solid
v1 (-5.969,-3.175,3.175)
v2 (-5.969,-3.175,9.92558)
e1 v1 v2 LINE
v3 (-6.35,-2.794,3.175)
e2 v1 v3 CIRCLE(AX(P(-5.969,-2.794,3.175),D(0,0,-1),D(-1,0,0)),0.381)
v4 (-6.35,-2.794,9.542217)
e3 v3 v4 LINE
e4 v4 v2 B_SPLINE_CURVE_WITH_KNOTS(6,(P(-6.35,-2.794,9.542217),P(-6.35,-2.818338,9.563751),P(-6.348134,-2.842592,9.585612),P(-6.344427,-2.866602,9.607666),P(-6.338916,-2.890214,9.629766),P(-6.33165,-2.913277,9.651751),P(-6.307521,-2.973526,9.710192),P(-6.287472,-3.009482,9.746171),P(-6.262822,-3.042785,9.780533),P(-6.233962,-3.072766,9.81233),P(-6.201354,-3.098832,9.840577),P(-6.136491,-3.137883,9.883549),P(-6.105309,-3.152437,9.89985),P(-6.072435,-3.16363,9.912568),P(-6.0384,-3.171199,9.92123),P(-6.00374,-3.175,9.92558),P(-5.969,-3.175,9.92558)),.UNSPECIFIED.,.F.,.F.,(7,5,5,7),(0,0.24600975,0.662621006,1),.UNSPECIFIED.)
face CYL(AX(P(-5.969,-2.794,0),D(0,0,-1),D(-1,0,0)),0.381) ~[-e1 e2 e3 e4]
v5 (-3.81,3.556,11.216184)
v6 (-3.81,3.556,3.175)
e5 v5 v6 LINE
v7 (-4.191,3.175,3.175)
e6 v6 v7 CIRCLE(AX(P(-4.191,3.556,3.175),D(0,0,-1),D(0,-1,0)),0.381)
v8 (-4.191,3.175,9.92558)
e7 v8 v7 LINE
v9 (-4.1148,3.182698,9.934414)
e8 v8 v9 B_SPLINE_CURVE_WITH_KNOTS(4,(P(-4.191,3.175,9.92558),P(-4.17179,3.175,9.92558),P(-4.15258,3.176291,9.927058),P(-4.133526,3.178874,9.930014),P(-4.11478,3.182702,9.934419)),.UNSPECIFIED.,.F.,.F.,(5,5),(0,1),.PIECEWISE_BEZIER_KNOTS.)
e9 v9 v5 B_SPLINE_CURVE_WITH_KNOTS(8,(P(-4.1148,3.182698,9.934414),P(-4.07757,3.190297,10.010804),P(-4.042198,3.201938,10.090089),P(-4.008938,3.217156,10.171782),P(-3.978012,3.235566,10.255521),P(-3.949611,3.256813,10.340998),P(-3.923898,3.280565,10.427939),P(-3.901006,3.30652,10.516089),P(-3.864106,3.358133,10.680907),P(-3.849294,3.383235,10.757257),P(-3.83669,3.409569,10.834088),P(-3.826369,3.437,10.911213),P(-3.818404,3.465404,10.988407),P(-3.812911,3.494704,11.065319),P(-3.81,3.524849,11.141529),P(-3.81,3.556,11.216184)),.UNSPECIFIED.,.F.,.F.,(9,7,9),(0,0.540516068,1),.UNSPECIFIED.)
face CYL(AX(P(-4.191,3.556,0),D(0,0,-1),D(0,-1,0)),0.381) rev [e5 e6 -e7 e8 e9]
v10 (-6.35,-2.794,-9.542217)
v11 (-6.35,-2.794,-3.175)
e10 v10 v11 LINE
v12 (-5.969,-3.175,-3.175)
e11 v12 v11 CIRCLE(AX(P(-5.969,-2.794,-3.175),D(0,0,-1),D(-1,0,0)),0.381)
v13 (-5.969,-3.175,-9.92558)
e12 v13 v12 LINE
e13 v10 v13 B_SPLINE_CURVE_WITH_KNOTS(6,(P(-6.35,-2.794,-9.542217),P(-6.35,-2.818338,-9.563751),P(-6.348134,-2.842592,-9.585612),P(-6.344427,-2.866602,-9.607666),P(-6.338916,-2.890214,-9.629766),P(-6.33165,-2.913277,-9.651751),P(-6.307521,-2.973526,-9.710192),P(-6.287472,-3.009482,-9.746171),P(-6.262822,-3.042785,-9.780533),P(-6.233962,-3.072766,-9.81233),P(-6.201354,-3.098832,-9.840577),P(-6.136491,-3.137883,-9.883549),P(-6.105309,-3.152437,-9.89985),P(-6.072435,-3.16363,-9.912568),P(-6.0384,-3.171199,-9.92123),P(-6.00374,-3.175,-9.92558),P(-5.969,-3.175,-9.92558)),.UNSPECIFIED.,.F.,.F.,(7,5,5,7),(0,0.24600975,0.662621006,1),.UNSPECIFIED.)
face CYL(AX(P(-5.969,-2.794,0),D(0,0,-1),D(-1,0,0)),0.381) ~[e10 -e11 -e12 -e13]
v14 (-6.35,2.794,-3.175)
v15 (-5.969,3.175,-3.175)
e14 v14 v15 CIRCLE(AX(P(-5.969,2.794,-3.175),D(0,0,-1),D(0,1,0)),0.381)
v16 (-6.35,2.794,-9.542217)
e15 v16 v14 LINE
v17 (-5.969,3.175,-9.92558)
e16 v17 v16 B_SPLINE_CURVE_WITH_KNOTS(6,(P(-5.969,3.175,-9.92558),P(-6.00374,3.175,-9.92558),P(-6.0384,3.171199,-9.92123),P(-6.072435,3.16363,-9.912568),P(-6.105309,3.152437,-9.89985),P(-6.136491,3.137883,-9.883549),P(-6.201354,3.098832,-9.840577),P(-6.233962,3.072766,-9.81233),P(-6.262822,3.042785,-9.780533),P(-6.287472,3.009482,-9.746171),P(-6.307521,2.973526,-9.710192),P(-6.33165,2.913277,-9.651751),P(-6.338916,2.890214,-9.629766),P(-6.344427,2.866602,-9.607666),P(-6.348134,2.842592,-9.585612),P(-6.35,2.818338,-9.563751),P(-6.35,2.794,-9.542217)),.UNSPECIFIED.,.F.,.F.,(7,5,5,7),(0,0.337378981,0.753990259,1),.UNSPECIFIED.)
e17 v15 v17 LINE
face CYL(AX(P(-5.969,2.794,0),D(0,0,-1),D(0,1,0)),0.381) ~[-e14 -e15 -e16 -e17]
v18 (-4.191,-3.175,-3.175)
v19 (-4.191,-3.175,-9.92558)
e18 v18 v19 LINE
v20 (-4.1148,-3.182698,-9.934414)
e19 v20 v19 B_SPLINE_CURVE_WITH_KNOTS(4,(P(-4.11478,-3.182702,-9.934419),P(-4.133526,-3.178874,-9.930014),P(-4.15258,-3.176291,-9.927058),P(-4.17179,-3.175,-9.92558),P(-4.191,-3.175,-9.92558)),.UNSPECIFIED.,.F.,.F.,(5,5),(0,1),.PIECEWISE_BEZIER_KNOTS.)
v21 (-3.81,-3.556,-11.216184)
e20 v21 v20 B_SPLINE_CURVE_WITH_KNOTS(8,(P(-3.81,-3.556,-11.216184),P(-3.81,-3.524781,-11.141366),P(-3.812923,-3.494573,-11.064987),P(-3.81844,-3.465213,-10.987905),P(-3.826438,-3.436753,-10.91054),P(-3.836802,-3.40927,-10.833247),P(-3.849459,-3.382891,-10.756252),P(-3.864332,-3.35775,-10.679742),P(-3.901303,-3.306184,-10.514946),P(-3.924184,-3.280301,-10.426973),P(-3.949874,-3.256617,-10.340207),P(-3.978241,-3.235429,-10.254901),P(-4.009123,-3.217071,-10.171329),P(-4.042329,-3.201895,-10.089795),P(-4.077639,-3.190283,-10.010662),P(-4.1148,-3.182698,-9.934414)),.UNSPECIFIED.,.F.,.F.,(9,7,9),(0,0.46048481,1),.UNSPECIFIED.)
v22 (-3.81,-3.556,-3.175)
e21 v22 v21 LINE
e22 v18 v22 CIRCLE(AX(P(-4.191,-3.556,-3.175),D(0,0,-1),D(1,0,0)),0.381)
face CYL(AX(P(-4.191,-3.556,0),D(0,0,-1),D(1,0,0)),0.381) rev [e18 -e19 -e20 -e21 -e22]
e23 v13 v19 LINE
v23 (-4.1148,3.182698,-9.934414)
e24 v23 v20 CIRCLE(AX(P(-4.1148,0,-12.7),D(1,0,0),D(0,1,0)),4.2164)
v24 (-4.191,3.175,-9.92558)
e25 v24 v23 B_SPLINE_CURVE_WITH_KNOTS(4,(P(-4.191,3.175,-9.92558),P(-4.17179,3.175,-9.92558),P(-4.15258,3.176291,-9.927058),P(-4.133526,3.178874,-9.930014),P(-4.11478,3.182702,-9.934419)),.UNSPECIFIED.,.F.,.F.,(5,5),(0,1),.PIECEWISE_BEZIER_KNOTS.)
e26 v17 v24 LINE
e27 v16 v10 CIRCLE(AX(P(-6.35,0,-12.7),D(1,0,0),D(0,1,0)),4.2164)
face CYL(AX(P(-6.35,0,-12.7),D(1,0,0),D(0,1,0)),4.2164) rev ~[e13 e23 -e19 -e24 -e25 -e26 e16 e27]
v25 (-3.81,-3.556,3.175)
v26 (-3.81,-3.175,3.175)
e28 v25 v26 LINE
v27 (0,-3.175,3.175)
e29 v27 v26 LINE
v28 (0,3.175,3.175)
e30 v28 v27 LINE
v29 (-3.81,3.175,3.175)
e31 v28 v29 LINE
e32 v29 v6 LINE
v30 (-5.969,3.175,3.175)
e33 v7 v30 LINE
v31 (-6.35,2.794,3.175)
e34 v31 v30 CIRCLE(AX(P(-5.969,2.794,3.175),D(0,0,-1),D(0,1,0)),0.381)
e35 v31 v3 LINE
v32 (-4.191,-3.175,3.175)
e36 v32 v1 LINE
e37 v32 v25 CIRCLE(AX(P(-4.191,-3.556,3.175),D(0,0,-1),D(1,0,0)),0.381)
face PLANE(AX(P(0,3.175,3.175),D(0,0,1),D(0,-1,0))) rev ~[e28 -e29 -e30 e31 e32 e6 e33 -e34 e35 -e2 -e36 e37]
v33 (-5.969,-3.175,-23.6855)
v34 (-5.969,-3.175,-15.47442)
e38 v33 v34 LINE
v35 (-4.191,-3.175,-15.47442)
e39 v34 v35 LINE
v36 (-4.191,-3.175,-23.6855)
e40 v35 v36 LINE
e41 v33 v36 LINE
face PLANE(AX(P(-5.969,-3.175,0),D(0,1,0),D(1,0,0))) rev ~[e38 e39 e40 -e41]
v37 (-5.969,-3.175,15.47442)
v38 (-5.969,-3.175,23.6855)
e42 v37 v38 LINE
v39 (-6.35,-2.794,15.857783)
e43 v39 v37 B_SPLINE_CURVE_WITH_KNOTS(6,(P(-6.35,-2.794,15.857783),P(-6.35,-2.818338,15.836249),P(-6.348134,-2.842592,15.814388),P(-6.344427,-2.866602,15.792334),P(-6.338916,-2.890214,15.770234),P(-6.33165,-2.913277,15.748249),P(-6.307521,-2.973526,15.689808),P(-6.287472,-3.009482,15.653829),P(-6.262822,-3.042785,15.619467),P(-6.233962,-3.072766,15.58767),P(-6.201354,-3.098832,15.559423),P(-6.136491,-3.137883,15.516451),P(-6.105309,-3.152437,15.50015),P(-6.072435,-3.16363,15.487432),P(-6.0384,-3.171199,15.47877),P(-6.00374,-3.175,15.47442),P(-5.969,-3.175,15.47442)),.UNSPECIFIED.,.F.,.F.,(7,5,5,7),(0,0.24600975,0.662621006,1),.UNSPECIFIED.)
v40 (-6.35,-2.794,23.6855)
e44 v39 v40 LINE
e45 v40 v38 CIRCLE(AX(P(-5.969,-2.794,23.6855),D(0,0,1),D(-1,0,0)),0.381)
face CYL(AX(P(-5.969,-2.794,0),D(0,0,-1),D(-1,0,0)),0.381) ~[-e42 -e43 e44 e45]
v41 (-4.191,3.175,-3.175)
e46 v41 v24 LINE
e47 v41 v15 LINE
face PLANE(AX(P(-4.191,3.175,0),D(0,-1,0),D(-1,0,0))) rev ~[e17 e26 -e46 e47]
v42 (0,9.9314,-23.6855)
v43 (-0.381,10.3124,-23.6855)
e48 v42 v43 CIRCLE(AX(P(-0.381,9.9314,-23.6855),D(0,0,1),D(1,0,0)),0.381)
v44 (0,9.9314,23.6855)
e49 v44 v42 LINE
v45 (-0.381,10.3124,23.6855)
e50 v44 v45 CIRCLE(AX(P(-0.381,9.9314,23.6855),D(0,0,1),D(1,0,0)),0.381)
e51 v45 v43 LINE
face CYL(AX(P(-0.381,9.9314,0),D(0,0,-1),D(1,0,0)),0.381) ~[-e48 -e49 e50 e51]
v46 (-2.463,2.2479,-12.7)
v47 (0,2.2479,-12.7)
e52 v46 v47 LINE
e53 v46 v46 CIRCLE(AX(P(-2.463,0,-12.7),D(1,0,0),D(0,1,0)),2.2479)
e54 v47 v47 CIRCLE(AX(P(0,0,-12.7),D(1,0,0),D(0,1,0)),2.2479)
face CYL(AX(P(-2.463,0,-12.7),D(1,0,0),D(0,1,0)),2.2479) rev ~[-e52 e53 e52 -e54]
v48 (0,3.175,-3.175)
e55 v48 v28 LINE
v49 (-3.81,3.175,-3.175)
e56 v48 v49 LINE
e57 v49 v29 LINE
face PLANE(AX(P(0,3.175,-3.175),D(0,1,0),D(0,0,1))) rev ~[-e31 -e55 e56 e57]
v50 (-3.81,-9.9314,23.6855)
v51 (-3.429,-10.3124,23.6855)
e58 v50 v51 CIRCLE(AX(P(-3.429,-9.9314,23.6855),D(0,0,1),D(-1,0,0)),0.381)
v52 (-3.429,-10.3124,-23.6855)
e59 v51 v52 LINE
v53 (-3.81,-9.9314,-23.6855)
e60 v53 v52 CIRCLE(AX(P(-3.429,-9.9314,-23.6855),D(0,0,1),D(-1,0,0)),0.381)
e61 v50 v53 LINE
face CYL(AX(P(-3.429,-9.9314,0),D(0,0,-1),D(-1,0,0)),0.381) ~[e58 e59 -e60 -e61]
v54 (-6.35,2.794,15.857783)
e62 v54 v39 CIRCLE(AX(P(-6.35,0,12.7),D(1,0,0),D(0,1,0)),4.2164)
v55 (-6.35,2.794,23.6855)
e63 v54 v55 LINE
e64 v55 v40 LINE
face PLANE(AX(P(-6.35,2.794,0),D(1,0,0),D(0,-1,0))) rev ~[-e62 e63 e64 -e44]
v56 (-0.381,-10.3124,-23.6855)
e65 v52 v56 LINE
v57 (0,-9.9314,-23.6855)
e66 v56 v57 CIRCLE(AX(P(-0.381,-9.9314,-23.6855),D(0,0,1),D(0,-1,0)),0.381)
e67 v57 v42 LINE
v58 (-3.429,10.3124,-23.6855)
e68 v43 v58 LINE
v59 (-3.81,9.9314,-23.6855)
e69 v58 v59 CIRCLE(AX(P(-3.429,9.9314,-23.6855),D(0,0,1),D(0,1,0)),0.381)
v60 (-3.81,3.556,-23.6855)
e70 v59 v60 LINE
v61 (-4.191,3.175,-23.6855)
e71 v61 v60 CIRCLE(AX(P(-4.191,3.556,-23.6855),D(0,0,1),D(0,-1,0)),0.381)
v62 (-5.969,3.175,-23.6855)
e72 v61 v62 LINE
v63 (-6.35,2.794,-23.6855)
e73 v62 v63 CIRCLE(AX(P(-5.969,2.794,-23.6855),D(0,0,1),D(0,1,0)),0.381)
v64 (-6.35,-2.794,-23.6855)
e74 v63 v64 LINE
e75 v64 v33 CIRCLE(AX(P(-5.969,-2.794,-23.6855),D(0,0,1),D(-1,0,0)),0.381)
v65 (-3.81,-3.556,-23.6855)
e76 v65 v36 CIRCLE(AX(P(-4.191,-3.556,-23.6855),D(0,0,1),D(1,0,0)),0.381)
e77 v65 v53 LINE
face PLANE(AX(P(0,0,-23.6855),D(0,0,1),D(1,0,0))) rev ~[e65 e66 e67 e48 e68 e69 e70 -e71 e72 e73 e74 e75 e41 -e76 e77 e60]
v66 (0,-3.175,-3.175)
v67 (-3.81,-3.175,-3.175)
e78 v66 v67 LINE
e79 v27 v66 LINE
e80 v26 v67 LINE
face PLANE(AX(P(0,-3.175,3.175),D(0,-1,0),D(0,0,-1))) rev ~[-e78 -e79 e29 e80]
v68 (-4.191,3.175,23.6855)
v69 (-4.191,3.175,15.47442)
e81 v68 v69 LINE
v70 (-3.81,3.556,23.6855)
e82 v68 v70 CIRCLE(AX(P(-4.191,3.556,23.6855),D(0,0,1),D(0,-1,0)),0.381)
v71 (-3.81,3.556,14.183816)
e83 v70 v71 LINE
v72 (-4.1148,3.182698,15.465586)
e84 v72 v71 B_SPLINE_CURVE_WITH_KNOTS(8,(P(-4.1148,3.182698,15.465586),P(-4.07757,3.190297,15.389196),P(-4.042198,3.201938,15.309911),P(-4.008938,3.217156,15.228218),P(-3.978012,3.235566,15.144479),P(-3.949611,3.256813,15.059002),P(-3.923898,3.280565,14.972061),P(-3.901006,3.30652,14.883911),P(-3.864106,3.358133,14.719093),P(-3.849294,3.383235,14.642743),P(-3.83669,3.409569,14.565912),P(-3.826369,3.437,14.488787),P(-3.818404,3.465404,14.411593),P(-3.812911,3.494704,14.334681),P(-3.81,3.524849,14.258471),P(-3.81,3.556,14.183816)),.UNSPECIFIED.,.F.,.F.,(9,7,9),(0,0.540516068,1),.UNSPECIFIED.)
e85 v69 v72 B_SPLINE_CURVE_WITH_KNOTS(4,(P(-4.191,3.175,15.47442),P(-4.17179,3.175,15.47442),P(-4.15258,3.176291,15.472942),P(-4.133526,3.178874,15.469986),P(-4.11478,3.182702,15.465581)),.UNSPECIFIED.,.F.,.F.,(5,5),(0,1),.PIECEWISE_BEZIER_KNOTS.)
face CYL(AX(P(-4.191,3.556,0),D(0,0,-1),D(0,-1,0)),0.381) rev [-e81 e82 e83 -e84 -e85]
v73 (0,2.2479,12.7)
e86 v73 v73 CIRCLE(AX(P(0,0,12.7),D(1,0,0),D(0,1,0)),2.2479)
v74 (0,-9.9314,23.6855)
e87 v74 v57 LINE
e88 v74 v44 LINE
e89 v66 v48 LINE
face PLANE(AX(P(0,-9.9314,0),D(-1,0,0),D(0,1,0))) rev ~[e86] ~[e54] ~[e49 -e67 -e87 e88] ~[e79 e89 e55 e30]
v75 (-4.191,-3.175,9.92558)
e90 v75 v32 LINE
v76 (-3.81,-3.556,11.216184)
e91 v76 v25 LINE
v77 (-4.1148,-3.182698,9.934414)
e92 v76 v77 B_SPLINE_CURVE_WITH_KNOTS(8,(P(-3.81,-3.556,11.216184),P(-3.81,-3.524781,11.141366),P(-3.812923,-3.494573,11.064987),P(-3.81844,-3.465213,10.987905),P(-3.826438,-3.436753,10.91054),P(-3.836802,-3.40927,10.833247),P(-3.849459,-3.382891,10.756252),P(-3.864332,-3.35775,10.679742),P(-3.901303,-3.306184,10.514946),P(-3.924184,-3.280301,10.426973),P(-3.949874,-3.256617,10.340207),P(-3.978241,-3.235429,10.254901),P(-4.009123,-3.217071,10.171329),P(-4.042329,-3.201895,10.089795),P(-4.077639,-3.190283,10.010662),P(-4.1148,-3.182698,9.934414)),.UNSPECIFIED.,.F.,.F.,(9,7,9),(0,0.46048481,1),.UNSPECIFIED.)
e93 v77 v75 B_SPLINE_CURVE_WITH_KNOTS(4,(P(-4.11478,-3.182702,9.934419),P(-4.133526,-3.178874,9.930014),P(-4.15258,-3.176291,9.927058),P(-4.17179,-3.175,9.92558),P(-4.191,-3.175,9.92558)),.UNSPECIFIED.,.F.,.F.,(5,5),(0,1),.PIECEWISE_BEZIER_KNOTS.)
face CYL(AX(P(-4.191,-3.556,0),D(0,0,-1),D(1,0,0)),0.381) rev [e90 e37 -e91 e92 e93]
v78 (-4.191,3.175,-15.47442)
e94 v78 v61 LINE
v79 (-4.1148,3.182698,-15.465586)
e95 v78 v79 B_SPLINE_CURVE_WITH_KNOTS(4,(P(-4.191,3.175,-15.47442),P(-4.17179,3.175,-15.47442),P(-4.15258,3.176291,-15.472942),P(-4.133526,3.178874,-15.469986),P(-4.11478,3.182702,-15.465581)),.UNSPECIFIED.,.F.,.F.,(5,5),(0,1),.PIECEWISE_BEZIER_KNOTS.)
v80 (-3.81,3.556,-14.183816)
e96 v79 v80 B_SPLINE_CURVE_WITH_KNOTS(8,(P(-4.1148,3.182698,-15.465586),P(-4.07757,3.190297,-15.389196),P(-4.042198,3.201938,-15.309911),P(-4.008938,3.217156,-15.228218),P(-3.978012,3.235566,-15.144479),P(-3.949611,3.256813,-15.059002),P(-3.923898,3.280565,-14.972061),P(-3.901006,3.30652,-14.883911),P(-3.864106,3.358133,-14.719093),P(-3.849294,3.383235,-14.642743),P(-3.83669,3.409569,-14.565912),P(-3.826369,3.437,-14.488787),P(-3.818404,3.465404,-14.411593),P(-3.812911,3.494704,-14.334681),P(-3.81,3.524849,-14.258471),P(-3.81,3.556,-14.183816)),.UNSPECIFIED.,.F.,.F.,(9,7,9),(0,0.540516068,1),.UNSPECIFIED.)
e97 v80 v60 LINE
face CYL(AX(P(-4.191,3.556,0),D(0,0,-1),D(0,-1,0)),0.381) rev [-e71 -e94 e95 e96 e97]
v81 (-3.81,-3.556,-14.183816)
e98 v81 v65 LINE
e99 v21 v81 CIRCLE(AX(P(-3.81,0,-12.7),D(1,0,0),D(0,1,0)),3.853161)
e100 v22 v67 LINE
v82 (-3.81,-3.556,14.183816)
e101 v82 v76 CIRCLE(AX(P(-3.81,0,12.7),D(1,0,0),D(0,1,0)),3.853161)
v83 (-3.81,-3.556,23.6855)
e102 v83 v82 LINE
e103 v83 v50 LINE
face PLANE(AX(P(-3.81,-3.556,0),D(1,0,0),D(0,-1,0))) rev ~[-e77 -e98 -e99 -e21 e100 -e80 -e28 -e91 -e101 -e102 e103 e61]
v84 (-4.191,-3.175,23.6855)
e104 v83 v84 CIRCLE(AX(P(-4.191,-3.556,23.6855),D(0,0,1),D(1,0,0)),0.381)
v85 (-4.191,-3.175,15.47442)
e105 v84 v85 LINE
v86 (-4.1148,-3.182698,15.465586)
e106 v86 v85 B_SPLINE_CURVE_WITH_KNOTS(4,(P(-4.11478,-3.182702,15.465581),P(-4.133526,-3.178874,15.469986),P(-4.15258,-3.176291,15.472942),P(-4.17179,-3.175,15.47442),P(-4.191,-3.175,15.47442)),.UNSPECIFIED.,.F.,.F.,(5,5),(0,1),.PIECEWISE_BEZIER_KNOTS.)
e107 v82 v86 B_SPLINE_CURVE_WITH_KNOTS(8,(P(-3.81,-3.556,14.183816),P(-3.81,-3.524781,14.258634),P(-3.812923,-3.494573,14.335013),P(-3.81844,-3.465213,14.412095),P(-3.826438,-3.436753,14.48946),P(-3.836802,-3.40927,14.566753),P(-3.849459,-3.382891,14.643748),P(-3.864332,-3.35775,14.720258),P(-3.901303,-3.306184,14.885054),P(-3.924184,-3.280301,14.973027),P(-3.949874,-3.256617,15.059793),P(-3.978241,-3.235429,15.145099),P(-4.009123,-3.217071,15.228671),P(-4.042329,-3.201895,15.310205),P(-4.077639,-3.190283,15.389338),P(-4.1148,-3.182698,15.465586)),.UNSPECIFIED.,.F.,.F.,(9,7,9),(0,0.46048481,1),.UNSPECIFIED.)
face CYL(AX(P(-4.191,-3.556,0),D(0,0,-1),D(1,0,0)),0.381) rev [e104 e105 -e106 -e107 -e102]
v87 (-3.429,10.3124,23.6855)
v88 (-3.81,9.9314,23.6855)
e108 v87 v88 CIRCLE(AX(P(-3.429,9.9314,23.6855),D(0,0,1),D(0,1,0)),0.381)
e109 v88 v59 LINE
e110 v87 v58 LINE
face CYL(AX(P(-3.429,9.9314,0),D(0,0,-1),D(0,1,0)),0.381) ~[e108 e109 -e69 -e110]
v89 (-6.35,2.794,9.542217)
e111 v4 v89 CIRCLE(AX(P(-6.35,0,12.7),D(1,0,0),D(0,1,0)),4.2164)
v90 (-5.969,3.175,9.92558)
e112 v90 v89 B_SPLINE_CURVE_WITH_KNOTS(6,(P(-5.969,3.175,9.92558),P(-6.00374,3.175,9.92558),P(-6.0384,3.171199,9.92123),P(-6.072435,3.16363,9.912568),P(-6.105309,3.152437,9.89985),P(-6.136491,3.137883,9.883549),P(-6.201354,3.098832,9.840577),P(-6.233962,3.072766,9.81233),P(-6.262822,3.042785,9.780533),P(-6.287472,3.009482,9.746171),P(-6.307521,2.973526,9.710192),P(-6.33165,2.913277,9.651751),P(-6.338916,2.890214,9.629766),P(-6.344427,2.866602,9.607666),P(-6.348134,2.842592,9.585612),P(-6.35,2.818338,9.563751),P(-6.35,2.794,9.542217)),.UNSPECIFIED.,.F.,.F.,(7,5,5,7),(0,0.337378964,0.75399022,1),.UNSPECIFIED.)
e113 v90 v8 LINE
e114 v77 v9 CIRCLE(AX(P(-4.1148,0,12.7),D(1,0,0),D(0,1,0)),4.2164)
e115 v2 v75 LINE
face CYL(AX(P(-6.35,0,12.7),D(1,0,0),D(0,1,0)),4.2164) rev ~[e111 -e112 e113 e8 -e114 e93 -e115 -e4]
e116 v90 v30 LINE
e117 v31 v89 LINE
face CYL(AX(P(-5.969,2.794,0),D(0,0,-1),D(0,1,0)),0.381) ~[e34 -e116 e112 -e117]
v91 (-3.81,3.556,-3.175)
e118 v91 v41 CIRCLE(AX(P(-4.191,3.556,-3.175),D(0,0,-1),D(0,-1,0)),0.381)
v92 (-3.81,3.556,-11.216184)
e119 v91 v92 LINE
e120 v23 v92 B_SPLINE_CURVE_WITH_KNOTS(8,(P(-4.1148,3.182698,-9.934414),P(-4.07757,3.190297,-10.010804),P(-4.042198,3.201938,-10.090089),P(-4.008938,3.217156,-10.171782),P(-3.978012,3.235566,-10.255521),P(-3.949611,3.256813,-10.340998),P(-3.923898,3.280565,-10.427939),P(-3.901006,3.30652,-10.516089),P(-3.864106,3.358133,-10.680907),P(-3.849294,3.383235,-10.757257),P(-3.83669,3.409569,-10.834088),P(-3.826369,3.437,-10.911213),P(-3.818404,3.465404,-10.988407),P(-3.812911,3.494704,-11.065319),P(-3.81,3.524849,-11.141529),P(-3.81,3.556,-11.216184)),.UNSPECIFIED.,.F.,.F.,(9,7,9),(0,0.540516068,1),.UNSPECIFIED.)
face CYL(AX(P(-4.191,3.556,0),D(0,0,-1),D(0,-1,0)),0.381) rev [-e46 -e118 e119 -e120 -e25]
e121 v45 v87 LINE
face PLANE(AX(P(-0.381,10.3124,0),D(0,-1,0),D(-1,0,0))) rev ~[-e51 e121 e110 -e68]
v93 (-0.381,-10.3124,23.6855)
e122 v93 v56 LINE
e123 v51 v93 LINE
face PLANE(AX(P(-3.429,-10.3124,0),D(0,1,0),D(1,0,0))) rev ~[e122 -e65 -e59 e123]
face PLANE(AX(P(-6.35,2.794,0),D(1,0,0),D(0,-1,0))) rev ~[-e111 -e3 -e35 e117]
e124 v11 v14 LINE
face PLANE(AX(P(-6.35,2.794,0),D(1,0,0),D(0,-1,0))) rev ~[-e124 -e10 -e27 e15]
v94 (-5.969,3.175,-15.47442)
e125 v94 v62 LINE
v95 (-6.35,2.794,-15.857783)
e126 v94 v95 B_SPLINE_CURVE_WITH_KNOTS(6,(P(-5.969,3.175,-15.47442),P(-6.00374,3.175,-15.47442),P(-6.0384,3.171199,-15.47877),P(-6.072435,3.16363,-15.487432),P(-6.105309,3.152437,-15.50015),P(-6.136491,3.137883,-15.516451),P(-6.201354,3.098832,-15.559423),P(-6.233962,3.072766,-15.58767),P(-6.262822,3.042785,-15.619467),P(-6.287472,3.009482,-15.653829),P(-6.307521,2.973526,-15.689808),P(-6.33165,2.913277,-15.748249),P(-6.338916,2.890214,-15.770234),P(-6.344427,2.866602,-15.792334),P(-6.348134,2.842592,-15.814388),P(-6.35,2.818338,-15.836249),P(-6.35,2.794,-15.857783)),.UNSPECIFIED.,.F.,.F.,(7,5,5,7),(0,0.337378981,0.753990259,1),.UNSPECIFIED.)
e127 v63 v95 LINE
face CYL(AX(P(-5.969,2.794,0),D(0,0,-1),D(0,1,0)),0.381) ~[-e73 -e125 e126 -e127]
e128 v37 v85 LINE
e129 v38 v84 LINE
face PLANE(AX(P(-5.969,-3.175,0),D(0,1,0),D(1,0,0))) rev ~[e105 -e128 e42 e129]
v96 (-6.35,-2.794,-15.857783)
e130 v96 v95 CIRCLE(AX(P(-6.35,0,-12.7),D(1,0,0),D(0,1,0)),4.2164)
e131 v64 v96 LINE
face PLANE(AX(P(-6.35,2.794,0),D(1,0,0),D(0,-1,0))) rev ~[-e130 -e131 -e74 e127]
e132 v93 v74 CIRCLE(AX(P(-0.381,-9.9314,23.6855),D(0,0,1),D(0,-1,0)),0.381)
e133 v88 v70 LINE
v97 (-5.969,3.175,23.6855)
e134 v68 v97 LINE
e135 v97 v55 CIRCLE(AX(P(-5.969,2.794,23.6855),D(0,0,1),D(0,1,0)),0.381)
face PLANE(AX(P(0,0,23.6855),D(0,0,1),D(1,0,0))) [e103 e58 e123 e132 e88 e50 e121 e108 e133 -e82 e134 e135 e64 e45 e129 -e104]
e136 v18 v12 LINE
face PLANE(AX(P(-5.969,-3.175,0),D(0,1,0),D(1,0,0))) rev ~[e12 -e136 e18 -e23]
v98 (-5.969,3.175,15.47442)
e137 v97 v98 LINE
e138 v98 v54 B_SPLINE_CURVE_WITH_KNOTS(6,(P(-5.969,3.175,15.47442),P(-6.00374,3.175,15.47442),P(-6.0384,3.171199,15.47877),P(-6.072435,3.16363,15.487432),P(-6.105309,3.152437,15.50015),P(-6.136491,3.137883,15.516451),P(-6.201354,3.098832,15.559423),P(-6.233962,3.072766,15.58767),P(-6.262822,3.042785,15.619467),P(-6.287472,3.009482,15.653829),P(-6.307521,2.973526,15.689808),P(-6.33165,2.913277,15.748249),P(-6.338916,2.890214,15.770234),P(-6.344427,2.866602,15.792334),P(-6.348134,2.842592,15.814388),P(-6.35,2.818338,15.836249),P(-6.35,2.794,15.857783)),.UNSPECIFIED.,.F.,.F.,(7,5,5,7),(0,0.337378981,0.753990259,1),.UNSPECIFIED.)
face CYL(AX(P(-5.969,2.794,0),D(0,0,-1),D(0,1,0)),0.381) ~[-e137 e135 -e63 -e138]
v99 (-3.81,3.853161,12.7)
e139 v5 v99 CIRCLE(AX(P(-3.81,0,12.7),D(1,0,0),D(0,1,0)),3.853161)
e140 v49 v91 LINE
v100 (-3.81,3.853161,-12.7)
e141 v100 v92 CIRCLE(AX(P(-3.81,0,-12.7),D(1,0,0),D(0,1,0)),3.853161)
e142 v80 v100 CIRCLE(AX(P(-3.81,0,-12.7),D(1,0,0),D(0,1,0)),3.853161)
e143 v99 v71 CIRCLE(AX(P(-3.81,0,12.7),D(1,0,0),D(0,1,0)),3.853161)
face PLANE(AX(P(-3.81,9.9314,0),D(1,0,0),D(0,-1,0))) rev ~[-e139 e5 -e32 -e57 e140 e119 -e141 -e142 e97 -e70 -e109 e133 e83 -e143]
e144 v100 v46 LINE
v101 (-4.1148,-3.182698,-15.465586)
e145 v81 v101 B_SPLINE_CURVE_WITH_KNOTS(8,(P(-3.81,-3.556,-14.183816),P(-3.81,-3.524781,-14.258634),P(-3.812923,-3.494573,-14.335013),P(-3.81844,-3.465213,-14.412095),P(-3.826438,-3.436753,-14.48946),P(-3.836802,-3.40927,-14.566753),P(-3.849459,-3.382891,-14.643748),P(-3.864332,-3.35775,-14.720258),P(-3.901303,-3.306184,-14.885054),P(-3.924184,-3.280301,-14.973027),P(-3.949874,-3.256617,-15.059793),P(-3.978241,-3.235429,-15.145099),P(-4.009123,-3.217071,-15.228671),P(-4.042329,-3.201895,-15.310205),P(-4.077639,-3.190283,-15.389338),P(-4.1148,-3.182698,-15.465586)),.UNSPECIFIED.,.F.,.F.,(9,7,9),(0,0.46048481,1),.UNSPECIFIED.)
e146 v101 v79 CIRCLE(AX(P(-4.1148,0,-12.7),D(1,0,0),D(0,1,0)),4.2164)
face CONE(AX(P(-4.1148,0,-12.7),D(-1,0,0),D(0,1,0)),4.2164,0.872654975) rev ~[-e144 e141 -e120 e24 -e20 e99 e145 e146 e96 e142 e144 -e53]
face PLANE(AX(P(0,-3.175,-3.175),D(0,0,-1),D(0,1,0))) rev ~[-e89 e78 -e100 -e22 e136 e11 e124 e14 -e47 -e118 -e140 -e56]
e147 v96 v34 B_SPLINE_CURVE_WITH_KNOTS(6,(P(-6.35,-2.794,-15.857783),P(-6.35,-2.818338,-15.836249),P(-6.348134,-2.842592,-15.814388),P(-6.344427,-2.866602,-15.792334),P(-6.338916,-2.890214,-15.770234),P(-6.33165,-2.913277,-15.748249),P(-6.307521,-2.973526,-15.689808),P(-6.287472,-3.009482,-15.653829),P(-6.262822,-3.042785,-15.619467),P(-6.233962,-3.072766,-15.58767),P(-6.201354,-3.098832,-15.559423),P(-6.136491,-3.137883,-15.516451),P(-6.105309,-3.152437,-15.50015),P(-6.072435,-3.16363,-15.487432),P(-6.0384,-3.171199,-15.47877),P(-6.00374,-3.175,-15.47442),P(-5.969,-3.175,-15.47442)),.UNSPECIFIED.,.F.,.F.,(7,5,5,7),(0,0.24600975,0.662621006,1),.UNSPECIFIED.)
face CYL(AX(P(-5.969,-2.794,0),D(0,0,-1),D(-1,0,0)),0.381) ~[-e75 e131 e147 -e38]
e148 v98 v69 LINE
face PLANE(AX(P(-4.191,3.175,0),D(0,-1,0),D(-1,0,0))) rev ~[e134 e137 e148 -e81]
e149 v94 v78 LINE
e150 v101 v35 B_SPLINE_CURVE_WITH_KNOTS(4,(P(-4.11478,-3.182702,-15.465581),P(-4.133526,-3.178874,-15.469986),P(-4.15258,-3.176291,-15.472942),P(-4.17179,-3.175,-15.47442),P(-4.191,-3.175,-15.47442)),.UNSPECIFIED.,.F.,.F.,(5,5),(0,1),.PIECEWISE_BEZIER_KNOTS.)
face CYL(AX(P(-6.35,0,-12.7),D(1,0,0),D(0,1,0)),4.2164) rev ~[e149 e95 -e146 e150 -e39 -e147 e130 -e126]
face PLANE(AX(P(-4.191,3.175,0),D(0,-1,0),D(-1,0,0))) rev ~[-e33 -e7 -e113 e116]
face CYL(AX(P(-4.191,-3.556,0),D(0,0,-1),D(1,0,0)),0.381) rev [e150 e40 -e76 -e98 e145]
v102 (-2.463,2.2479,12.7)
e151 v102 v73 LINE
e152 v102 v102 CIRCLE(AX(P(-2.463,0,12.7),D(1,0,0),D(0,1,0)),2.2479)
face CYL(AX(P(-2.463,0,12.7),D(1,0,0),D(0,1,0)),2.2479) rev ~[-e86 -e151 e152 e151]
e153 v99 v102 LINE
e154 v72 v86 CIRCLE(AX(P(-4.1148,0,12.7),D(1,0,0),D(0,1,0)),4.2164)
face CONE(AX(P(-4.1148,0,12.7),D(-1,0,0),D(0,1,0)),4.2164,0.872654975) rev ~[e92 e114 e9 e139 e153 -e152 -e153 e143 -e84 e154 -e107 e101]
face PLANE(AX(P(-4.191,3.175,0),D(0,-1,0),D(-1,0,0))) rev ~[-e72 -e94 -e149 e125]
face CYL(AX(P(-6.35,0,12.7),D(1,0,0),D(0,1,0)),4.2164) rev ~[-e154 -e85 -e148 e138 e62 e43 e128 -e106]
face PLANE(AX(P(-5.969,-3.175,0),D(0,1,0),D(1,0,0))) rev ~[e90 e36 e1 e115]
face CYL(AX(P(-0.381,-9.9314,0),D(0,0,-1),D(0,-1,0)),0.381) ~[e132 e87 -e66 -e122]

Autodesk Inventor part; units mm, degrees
sketch "Sketch_1" plane through (0, 0, 0) normal (0, 0, 1) x (1, 0, 0)
  line L0 (-6.35, 2.794) -> (-6.35, -2.794)
  arc A0 (-6.35, -2.794) -> (-5.969, -3.175) centre (-5.969, -2.794) ccw
  line L1 (-5.969, -3.175) -> (-4.191, -3.175)
  arc A1 (-3.81, -3.556) -> (-4.191, -3.175) centre (-4.191, -3.556) ccw
  line L2 (-3.81, -3.556) -> (-3.81, -9.9314)
  arc A2 (-3.81, -9.9314) -> (-3.429, -10.3124) centre (-3.429, -9.9314) ccw
  line L3 (-3.429, -10.3124) -> (-0.381, -10.3124)
  arc A3 (-0.381, -10.3124) -> (0, -9.9314) centre (-0.381, -9.9314) ccw
  line L4 (0, -9.9314) -> (0, 9.9314)
  arc A4 (0, 9.9314) -> (-0.381, 10.3124) centre (-0.381, 9.9314) ccw
  line L5 (-0.381, 10.3124) -> (-3.429, 10.3124)
  arc A5 (-3.429, 10.3124) -> (-3.81, 9.9314) centre (-3.429, 9.9314) ccw
  line L6 (-3.81, 9.9314) -> (-3.81, 3.556)
  arc A6 (-4.191, 3.175) -> (-3.81, 3.556) centre (-4.191, 3.556) ccw
  line L7 (-4.191, 3.175) -> (-5.969, 3.175)
  arc A7 (-5.969, 3.175) -> (-6.35, 2.794) centre (-5.969, 2.794) ccw
extrude "Extrusion1" add sketch "Sketch_1" along normal mid plane 47.371
sketch "Sketch_2" plane through (0, 0, 12.7) normal (0, 0, 1) x (1, 0, 0)
  line L0 (0, 0) -> (-6.35, 0)
  line L1 (-6.35, 0) -> (-6.35, 4.2164)
  line L2 (-6.35, 4.2164) -> (-4.1148, 4.2164)
  line L3 (-4.1148, 4.2164) -> (-2.463, 2.2479)
  line L4 (-2.463, 2.2479) -> (0, 2.2479)
  line L5 (0, 2.2479) -> (0, 0)
  line L6 (0, 0) -> (-6.35, 0)
revolve "Revolution1" cut sketch "Sketch_2" angle 360 about axis through (0, 0, 12.7) along (1, 0, 0)
sketch "Sketch_3" plane through (0, 0, -12.7) normal (0, 0, 1) x (1, 0, 0)
  line L0 (0, 0) -> (-6.35, 0)
  line L1 (-6.35, 0) -> (-6.35, 4.2164)
  line L2 (-6.35, 4.2164) -> (-4.1148, 4.2164)
  line L3 (-4.1148, 4.2164) -> (-2.463, 2.2479)
  line L4 (-2.463, 2.2479) -> (0, 2.2479)
  line L5 (0, 2.2479) -> (0, 0)
  line L6 (0, 0) -> (-6.35, 0)
revolve "Revolution2" cut sketch "Sketch_3" angle 360 about axis through (0, 0, -12.7) along (1, 0, 0)
sketch "Sketch_4" plane through (0, 0, 0) normal (1, 0, 0) x (0, 1, 0)
  line L0 (-3.175, 3.175) -> (-3.175, -3.175)
  line L1 (-3.175, -3.175) -> (3.175, -3.175)
  line L2 (3.175, -3.175) -> (3.175, 3.175)
  line L3 (3.175, 3.175) -> (-3.175, 3.175)
extrude "Extrusion2" cut sketch "Sketch_4" against normal blind 6.35
sketch "Sketch_5" plane through (0, 0, 0) normal (0, 0, 1) x (1, 0, 0)
  line L0 (-10.16, 6.35) -> (-10.16, -6.35)
  line L1 (-10.16, -6.35) -> (-3.81, -6.35)
  line L2 (-3.81, -6.35) -> (-3.81, 6.35)
  line L3 (-3.81, 6.35) -> (-10.16, 6.35)
extrude "Extrusion3" cut sketch "Sketch_5" along normal mid plane 6.35
ref_plane "pad_XY" through (0, 0, -12.7) normal (1, 0, 0) x (0, 0, -1)
ref_plane "pad_YZ" through (0, 0, -12.7) normal (0, 0, -1) x (0, 1, 0)
ref_plane "pad_ZX" through (0, 0, -12.7) normal (0, 1, 0) x (1, 0, 0)
ref_plane "s1_XY" through (-2.463, 0, 12.7) normal (1, 0, 0) x (0, 0, -1)
ref_plane "s1_YZ" through (-2.463, 0, 12.7) normal (0, 0, -1) x (0, 1, 0)
ref_plane "s1_ZX" through (-2.463, 0, 12.7) normal (0, 1, 0) x (1, 0, 0)
ref_plane "s2_XY" through (-2.463, 0, -12.7) normal (1, 0, 0) x (0, 0, -1)
ref_plane "s2_YZ" through (-2.463, 0, -12.7) normal (0, 0, -1) x (0, 1, 0)
ref_plane "s2_ZX" through (-2.463, 0, -12.7) normal (0, 1, 0) x (1, 0, 0)
properties part number "6705_p"
